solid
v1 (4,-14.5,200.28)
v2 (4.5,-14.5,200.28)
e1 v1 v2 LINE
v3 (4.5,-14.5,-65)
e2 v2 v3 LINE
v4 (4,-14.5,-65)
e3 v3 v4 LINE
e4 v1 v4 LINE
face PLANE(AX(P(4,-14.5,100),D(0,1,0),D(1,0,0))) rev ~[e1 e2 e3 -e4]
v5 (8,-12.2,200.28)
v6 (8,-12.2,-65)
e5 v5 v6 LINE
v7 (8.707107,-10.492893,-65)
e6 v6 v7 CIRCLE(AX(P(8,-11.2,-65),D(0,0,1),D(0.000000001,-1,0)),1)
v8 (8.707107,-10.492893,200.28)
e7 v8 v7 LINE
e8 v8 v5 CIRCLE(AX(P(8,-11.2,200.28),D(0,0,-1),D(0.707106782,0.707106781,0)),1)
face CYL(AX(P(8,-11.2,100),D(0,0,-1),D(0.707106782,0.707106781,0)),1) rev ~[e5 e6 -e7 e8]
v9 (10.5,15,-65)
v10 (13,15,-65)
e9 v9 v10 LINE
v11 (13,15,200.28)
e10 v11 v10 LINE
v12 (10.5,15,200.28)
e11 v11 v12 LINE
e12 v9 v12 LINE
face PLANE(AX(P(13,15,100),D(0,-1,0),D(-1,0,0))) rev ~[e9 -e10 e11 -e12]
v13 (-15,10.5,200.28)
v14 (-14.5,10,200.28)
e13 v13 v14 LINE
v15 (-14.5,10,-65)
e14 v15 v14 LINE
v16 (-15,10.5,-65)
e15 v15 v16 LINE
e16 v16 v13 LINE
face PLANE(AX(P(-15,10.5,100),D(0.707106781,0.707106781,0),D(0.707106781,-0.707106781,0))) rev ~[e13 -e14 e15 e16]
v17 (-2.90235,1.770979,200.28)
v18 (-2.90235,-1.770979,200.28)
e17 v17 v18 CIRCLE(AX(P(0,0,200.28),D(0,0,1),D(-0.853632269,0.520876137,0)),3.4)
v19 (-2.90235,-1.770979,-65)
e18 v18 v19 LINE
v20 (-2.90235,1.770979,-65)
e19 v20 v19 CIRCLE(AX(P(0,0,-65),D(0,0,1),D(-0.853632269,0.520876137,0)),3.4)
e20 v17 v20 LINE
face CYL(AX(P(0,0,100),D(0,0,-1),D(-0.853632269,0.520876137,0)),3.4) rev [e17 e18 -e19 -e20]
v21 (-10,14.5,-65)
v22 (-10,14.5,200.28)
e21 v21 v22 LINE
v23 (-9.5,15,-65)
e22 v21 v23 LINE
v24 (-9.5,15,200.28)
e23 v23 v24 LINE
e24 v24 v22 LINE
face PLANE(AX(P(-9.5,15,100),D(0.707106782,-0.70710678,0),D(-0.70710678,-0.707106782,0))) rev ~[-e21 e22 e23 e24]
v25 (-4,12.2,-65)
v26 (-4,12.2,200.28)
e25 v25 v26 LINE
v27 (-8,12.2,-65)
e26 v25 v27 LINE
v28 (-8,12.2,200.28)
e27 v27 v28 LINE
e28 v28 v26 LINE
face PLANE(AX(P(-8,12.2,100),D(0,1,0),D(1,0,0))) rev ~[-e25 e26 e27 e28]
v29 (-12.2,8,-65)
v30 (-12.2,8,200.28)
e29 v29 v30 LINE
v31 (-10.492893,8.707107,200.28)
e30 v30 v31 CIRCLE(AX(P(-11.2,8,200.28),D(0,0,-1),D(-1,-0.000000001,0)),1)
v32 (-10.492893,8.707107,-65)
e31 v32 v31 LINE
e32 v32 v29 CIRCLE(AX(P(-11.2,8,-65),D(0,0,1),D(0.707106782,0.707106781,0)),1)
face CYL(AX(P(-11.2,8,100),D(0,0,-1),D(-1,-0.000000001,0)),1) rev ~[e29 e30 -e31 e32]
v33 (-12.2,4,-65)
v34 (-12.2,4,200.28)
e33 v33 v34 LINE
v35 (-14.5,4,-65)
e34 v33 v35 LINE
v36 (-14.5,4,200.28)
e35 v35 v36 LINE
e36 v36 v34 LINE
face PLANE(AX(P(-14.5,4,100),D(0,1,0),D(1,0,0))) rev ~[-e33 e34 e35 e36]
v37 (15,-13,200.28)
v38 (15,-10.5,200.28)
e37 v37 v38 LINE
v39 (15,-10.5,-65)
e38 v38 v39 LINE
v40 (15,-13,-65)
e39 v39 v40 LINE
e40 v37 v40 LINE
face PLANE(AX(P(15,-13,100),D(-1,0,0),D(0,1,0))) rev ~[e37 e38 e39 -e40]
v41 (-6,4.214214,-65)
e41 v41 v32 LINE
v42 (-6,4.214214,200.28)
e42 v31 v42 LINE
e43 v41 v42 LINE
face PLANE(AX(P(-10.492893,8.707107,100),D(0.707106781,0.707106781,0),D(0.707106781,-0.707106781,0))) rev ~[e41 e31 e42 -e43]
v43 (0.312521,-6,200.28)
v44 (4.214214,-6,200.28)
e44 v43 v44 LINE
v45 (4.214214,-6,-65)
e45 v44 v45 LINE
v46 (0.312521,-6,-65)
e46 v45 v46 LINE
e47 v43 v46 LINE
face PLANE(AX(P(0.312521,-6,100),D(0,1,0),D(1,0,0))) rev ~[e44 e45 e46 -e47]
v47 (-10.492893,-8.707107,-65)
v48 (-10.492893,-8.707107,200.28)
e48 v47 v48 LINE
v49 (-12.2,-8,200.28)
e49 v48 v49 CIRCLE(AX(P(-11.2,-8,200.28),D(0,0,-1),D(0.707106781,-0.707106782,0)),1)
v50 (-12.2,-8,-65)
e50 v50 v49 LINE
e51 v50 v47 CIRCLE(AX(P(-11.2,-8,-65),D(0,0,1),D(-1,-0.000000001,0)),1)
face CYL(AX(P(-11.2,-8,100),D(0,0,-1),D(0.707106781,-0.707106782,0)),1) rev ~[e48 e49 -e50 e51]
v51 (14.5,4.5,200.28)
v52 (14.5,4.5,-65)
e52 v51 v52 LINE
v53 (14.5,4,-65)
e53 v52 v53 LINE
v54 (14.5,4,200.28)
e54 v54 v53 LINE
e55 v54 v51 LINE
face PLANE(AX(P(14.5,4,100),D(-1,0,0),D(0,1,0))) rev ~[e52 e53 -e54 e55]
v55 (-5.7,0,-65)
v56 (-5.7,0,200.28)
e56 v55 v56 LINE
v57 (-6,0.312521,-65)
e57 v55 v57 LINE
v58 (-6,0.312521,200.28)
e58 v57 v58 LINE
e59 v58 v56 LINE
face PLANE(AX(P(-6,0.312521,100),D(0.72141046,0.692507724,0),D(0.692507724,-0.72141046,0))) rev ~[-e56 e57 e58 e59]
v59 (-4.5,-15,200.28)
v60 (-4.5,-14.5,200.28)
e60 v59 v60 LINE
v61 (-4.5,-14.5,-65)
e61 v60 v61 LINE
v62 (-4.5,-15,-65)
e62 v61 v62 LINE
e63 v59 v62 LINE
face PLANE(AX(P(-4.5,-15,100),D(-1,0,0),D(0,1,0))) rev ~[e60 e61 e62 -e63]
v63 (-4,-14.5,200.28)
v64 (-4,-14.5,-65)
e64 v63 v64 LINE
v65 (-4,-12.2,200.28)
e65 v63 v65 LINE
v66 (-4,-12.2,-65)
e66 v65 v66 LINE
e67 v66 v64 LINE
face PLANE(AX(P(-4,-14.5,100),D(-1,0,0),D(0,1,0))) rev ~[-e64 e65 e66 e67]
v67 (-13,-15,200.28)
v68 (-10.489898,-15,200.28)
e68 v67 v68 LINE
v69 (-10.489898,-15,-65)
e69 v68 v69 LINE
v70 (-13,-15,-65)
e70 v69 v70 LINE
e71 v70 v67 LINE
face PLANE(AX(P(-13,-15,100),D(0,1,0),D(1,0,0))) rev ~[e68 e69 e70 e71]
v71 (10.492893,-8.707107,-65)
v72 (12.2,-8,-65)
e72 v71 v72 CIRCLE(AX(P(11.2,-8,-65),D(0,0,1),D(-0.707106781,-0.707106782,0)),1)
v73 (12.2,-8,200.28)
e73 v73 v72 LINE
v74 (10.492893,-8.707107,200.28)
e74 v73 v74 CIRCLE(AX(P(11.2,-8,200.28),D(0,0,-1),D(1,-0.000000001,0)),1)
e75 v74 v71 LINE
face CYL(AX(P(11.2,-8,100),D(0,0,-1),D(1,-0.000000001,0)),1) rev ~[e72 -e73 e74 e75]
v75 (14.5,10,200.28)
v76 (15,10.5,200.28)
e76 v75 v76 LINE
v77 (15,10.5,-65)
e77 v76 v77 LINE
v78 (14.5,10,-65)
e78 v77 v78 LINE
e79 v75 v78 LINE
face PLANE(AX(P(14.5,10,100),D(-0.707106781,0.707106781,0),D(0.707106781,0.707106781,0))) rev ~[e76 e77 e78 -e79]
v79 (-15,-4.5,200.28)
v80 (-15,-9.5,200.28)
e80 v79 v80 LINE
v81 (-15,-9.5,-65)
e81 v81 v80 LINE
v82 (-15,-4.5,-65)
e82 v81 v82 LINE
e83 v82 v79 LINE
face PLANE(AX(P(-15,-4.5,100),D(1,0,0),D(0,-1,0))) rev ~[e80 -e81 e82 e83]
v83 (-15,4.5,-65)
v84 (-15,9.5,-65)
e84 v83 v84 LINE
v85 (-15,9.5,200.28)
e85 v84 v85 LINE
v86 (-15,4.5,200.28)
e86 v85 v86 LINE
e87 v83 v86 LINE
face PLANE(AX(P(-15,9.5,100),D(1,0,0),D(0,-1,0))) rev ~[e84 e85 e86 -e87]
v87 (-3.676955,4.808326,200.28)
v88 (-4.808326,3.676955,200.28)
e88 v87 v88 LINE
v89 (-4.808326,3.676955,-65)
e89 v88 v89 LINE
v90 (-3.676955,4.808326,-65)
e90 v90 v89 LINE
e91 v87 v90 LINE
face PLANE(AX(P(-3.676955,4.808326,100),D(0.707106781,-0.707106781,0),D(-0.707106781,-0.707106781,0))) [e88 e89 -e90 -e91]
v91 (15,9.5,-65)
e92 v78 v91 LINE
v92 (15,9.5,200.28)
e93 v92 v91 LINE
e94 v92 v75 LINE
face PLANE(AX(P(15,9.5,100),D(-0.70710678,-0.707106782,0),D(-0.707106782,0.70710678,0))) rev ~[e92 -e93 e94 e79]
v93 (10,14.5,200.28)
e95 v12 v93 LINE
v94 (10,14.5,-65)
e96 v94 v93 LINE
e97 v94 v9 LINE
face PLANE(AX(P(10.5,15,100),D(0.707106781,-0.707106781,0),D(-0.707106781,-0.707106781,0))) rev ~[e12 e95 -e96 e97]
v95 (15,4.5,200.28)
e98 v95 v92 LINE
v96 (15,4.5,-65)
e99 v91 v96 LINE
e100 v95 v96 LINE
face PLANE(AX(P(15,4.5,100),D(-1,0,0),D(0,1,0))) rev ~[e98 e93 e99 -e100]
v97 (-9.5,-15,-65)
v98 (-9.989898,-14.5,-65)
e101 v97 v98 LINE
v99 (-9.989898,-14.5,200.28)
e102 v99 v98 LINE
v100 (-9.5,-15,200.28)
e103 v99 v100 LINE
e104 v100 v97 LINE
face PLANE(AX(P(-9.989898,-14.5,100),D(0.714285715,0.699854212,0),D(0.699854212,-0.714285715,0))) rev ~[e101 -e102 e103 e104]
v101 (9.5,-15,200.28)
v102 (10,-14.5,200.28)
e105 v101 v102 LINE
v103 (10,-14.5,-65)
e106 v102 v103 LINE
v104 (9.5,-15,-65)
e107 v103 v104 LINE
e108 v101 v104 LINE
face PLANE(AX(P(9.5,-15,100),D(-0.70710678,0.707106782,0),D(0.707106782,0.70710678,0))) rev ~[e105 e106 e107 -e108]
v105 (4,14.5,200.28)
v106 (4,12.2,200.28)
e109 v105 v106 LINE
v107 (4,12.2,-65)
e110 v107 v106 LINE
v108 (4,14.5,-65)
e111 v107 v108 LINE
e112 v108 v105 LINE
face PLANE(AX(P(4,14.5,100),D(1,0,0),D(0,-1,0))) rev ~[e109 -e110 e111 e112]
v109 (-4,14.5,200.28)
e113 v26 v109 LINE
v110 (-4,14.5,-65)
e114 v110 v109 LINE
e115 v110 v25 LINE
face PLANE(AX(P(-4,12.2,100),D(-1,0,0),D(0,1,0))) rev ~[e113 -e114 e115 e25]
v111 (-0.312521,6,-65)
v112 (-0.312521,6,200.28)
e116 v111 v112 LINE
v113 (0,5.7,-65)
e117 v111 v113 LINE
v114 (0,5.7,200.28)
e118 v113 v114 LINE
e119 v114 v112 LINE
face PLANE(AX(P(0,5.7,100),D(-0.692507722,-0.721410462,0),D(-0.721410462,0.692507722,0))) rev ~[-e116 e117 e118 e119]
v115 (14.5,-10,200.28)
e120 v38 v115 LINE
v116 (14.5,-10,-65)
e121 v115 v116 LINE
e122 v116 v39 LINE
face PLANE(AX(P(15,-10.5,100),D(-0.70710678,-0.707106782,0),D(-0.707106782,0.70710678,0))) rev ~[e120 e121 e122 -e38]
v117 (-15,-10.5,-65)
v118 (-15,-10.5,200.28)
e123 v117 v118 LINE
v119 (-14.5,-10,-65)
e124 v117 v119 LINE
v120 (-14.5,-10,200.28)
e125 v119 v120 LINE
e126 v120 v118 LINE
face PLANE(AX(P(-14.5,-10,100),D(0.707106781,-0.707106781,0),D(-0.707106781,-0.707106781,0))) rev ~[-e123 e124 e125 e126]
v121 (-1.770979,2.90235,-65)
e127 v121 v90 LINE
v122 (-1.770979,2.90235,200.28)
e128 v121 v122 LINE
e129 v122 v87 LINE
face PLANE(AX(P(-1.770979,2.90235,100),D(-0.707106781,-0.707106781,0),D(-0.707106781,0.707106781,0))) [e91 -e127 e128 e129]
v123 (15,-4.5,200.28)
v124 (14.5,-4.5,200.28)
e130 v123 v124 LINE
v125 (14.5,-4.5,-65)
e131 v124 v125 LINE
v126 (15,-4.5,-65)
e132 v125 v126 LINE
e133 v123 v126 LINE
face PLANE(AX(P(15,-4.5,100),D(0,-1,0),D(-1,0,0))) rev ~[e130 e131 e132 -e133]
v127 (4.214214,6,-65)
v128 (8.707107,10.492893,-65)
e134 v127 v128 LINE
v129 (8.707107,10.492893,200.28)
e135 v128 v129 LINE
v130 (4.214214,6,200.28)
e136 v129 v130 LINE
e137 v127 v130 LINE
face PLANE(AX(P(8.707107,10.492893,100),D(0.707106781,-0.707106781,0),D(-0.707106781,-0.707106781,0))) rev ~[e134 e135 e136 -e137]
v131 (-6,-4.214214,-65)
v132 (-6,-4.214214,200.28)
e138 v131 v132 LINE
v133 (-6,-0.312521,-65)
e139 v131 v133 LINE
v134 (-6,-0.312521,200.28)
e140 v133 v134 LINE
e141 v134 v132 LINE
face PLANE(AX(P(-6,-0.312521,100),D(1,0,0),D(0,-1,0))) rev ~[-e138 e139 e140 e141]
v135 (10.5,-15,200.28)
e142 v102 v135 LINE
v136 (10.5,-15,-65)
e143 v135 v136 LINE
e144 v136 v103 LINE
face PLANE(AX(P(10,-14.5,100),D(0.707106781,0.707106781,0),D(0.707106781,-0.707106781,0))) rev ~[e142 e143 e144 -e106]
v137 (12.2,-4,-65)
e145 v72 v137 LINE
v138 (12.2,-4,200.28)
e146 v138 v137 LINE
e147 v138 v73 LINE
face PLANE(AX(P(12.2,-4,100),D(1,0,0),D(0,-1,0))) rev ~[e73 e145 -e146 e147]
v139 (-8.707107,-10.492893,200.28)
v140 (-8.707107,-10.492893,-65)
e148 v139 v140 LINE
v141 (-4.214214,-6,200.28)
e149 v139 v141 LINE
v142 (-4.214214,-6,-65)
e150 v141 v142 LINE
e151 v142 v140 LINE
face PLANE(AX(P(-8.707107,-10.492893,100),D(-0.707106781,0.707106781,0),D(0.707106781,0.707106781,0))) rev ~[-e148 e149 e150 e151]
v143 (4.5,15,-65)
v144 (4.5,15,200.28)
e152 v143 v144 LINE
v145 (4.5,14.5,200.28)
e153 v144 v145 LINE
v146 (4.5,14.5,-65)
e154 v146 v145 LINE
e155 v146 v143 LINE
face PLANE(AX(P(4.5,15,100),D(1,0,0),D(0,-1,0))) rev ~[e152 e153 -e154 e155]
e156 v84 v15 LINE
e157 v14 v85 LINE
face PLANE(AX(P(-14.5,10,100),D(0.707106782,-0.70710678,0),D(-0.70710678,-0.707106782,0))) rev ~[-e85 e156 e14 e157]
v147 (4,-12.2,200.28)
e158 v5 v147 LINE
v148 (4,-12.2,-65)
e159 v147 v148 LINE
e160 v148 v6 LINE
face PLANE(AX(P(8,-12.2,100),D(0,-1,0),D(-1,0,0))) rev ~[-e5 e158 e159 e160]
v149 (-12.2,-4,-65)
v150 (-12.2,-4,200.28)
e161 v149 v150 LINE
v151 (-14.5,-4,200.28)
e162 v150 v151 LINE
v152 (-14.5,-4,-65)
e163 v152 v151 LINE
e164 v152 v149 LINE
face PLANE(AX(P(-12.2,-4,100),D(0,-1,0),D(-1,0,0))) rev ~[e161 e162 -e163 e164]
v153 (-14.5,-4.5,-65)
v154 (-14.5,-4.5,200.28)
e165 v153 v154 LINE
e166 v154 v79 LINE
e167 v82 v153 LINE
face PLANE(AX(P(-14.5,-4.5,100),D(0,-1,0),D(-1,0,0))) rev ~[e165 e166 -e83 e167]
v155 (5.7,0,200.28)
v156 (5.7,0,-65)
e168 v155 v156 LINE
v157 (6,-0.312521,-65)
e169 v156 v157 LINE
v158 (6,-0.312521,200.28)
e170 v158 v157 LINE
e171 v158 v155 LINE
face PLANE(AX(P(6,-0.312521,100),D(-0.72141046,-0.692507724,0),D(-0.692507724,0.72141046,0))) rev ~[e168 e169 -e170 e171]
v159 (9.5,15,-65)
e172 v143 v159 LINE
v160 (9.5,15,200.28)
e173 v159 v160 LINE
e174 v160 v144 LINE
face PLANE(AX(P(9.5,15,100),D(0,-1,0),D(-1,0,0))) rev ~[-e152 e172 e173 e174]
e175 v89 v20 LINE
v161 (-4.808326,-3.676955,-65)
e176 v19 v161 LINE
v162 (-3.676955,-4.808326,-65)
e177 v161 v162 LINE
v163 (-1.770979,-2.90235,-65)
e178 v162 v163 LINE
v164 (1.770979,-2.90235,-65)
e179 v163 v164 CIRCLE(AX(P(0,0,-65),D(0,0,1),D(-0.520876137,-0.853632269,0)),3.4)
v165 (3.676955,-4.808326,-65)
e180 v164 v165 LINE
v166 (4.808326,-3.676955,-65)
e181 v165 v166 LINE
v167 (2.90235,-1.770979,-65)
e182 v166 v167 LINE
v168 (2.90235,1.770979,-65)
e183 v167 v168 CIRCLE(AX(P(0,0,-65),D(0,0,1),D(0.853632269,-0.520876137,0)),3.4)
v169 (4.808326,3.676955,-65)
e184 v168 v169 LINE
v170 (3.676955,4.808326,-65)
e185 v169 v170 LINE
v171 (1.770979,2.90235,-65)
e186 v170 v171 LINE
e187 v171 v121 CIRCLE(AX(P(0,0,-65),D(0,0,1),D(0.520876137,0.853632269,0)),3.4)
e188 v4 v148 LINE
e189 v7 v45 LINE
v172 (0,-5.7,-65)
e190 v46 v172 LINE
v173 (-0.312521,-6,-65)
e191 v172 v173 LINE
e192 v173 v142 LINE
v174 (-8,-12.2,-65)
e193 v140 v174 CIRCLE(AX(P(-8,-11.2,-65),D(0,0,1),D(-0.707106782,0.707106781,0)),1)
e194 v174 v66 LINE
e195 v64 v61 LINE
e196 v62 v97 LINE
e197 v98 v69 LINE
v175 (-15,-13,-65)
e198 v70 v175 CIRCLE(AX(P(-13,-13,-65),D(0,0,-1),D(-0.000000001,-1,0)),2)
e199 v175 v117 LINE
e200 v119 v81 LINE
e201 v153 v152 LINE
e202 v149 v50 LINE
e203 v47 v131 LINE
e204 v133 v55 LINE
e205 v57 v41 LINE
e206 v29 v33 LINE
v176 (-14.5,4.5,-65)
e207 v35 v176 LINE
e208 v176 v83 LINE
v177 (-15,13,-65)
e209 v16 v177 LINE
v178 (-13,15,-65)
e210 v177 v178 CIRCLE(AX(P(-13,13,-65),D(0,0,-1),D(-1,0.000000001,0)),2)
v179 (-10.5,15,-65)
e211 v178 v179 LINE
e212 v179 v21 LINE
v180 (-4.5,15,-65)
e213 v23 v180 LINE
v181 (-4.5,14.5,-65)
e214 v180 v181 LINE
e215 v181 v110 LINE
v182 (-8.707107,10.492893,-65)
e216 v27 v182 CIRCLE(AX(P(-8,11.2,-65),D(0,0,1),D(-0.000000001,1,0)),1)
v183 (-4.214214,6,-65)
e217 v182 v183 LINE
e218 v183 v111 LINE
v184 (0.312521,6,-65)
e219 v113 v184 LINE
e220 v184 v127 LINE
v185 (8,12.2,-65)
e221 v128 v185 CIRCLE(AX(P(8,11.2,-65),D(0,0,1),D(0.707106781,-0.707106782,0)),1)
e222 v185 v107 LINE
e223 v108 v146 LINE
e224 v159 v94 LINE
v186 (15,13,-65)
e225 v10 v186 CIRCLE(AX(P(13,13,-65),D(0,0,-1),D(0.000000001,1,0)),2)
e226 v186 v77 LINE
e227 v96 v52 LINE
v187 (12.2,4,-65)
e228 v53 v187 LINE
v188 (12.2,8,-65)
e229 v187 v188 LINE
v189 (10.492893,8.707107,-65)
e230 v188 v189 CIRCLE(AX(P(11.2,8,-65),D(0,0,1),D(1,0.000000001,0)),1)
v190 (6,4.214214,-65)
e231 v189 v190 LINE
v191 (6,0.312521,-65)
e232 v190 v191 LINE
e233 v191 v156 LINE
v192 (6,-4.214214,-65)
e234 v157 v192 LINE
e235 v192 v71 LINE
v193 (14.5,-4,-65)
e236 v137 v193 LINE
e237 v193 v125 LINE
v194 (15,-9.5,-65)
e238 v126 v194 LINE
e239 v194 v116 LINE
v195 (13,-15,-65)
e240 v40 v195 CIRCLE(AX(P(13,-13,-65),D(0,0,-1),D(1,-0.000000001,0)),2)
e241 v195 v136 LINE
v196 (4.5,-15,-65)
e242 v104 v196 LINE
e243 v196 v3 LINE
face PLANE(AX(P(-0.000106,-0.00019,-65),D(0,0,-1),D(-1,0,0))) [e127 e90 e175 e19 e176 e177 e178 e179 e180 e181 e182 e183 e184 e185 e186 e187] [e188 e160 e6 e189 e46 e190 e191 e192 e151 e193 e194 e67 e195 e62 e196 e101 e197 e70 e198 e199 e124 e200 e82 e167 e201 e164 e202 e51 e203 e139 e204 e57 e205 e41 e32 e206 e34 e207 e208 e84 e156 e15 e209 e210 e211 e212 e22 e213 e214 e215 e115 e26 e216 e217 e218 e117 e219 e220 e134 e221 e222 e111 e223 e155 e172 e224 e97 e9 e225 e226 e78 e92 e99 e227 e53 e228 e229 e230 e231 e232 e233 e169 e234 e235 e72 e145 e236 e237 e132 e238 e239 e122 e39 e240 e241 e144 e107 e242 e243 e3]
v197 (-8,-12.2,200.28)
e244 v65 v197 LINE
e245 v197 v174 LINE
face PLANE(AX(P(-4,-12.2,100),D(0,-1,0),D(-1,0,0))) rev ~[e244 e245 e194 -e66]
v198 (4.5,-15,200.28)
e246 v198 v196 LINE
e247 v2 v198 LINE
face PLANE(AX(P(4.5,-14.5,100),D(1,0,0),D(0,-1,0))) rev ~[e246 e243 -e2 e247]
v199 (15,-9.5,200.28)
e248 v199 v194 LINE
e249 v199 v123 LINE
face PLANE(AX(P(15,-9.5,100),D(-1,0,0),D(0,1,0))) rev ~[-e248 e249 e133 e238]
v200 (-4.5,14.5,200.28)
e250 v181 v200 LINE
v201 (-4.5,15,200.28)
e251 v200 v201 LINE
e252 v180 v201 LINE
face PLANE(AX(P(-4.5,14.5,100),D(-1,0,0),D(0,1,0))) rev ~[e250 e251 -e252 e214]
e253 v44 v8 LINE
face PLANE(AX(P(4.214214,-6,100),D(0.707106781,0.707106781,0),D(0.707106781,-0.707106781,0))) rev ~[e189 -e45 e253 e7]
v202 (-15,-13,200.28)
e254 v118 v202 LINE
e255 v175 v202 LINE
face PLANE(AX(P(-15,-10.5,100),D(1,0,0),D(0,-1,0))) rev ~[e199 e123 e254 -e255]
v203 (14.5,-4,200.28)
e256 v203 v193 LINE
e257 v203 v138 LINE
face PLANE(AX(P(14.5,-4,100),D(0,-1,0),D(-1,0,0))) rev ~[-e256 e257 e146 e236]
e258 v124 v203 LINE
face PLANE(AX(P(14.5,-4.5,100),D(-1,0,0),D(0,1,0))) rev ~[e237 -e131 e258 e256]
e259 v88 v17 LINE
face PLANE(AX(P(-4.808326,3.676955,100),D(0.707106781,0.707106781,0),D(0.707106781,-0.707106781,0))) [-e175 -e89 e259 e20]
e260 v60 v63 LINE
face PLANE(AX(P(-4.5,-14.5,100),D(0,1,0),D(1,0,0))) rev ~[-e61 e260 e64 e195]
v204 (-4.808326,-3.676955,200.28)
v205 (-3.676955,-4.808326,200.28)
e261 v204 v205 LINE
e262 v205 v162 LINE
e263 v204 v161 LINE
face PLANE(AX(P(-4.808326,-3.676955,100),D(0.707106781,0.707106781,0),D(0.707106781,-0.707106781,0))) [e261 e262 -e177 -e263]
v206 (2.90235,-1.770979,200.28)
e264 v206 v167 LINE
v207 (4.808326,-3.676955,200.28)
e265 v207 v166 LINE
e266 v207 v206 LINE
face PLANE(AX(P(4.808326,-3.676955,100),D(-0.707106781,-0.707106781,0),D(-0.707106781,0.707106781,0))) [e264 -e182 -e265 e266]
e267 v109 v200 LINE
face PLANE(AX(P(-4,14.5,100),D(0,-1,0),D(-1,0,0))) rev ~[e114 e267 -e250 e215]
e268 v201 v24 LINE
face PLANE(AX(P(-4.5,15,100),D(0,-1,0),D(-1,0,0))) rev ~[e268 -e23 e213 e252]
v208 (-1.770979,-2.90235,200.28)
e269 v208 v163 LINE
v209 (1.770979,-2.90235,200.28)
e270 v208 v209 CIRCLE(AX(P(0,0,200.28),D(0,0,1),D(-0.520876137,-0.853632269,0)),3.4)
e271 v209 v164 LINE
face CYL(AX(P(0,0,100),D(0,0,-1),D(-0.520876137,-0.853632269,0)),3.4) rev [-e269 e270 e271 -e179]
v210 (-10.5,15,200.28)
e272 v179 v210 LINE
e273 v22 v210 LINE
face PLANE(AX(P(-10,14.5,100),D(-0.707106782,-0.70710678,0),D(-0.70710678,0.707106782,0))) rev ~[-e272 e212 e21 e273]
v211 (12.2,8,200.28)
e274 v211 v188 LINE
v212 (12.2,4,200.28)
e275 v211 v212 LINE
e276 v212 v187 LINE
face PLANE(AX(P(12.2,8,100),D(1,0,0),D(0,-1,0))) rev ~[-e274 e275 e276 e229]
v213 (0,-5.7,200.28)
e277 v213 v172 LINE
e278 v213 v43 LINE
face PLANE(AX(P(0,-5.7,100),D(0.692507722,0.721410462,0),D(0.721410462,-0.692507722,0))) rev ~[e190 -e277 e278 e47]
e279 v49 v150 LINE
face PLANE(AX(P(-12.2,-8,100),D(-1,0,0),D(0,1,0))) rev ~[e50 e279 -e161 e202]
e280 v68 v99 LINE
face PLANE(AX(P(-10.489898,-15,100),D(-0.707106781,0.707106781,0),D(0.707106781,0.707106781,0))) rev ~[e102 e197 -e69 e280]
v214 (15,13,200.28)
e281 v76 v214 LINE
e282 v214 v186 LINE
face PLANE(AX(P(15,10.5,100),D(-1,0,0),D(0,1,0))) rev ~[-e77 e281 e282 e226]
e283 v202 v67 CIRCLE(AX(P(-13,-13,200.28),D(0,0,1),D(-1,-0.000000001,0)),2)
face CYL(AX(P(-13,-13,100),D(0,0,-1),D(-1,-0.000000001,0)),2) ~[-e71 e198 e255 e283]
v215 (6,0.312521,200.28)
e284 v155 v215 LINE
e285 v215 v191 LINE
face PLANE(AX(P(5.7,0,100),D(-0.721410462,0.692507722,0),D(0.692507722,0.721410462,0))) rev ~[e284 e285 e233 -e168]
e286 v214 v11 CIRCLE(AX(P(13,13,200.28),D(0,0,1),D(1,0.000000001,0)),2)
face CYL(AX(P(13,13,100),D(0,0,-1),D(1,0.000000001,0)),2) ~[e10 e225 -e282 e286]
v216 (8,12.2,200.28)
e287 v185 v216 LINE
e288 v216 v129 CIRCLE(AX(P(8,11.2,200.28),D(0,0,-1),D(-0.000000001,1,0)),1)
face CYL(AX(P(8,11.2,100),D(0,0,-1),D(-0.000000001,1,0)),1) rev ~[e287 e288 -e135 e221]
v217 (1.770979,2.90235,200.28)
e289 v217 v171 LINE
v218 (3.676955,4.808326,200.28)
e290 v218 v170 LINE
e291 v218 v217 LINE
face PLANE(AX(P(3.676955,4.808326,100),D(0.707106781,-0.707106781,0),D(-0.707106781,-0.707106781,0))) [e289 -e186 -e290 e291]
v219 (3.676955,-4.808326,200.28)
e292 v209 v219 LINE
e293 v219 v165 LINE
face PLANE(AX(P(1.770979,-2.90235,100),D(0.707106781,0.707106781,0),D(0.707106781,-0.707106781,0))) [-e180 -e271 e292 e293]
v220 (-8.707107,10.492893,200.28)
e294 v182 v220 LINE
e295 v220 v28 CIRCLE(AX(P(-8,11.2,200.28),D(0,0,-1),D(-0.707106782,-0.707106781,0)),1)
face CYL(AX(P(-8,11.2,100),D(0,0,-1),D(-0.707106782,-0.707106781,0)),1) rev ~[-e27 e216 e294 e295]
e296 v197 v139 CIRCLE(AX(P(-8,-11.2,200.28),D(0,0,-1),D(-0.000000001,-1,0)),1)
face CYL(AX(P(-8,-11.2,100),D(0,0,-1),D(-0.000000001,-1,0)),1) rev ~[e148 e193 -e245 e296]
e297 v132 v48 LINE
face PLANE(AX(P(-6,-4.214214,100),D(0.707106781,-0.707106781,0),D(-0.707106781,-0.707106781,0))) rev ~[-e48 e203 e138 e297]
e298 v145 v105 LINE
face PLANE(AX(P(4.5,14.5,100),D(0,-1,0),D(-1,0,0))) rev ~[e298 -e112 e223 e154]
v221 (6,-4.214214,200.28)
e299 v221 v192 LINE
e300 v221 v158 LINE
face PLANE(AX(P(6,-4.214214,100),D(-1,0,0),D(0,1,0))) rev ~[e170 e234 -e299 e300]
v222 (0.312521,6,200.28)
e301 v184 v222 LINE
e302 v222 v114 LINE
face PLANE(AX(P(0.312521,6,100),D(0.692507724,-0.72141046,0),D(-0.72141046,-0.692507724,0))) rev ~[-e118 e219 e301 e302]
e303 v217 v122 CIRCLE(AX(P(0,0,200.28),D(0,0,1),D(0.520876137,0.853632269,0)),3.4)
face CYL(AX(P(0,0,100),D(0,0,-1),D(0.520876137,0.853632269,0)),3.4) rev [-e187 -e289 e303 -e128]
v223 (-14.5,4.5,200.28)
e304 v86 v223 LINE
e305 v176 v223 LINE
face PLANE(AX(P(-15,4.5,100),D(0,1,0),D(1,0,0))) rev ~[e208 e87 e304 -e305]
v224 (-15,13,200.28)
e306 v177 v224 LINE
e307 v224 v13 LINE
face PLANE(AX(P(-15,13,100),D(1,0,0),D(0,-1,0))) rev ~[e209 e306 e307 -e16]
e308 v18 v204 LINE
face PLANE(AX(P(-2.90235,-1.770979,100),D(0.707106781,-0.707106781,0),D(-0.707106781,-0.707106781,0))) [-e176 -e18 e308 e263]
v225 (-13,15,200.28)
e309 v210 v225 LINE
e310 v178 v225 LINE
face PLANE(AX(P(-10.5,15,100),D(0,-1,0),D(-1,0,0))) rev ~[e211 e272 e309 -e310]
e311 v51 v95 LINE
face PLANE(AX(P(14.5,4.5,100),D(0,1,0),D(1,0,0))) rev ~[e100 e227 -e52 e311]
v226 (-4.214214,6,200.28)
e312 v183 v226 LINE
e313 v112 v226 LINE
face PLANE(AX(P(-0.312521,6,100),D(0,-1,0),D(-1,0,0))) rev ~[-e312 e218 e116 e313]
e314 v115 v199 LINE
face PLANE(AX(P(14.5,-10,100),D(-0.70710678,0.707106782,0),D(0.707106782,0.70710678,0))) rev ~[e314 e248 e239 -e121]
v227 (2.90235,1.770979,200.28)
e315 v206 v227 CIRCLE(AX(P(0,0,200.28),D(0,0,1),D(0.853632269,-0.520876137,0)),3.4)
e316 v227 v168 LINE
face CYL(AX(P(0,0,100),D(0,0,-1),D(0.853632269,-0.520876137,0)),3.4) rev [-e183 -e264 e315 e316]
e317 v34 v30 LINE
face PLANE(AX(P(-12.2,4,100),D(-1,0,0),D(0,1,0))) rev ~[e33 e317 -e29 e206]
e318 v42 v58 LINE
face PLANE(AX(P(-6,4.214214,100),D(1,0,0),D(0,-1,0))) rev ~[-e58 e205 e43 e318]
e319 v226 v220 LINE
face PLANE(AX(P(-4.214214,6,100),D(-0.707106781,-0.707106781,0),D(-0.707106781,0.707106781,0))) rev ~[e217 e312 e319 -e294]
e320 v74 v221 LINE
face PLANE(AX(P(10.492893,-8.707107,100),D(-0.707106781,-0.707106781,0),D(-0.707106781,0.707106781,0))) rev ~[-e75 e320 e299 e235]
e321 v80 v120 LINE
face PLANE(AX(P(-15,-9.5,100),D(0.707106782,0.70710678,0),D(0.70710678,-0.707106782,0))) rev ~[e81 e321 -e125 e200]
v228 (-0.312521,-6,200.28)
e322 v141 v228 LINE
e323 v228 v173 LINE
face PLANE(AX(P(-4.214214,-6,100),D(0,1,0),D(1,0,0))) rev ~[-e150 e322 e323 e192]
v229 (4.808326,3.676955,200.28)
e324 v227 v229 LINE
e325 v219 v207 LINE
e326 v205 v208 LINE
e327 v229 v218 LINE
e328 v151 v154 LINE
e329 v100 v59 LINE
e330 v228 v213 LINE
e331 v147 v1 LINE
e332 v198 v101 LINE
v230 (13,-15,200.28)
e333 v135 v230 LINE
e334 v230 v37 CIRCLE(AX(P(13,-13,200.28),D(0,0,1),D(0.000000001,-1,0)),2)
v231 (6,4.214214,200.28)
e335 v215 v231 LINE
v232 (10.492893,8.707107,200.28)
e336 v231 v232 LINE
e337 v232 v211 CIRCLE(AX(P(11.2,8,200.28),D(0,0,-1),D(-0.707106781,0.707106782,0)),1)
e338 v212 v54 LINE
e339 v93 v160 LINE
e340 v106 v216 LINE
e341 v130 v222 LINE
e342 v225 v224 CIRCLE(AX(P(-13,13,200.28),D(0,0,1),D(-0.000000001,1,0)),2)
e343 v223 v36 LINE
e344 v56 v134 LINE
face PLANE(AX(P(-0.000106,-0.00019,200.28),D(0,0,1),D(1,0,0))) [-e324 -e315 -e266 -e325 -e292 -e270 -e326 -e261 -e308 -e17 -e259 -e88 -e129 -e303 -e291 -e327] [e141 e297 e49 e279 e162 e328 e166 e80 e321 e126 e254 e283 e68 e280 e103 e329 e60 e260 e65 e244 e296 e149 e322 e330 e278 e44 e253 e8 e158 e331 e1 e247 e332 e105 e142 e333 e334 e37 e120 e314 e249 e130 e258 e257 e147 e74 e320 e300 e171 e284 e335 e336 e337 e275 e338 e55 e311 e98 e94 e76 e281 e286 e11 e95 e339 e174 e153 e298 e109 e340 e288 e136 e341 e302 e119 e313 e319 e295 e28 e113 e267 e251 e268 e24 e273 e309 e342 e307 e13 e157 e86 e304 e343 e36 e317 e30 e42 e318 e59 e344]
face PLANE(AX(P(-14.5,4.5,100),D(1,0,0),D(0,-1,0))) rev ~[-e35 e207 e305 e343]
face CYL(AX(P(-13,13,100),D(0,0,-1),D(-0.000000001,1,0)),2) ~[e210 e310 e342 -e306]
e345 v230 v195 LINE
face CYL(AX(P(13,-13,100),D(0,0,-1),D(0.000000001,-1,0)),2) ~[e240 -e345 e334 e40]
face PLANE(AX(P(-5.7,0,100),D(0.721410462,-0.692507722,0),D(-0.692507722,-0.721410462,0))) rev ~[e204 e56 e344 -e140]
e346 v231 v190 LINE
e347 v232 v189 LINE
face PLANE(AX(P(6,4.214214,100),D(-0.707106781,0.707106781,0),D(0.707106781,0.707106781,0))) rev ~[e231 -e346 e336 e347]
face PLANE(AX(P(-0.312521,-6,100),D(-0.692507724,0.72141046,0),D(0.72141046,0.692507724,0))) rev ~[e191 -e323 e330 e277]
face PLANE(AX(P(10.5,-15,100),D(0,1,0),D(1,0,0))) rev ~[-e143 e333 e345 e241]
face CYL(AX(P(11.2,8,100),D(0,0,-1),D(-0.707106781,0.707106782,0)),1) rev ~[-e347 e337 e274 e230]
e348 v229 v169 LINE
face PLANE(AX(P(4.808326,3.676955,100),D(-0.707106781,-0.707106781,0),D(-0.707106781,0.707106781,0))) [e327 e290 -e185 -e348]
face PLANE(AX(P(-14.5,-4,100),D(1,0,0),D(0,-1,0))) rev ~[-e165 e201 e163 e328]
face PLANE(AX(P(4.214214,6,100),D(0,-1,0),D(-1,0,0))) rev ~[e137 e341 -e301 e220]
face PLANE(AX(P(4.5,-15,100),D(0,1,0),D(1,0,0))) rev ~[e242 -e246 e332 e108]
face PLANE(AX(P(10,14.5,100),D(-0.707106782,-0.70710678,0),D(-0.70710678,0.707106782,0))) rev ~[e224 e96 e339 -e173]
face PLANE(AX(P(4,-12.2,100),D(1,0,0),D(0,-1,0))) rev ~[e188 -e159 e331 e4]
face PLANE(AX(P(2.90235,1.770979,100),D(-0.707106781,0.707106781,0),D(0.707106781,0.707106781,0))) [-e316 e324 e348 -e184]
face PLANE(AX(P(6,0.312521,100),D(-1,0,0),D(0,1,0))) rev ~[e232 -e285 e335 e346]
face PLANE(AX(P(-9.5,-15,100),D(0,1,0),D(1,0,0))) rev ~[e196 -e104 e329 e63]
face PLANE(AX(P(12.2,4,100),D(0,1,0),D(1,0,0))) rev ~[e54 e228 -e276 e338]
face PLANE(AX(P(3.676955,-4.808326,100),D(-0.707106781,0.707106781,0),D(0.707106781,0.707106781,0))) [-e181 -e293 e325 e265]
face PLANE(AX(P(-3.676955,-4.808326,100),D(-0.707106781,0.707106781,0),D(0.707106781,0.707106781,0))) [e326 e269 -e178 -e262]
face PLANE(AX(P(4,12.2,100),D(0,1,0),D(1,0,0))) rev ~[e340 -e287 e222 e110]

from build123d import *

# Parameters (mm, degrees)
BOSS_EXTRUDE1_DEPTH = 165
BOSS_EXTRUDE2_DEPTH = 100.28


with BuildPart() as part:
    # Sketch1 → Boss-Extrude1 (new body)
    with BuildSketch(Plane(origin=(0, 0, -65), x_dir=(-1, 0, 0), z_dir=(0, 0, -1))):
        with BuildLine():
            Line((-14.999999999, 12.999999999), (-14.999999999, 10.499999999))
            Line((-14.999999999, 10.499999999), (-14.499999999, 9.999999999))
            Line((-14.499999999, 9.999999999), (-14.999999999, 9.5))
            Line((-14.999999999, 9.5), (-14.999999999, 4.5))
            Line((-14.999999999, 4.5), (-14.5, 4.5))
            Line((-14.5, 4.5), (-14.5, 4))
            Line((-14.5, 4), (-12.200000005, 4))
            Line((-12.200000005, 4), (-12.200000005, 7.999999995))
            ThreePointArc((-12.200000005, 7.999999995), (-11.582683434, 8.923879532), (-10.492893215, 8.70710678))
            Line((-10.492893215, 8.70710678), (-6, 4.214213564))
            Line((-6, 4.214213564), (-6, 0.312520903))
            Line((-6, 0.312520903), (-5.7, 0))
            Line((-5.7, 0), (-6, -0.312520901))
            Line((-6, -0.312520901), (-6, -4.214213564))
            Line((-6, -4.214213564), (-10.492893215, -8.70710678))
            ThreePointArc((-10.492893215, -8.70710678), (-11.582683434, -8.923879532), (-12.200000005, -7.999999995))
            Line((-12.200000005, -7.999999995), (-12.200000005, -4))
            Line((-12.200000005, -4), (-14.5, -4))
            Line((-14.5, -4), (-14.5, -4.5))
            Line((-14.5, -4.5), (-14.999999999, -4.5))
            Line((-14.999999999, -4.5), (-14.999999999, -9.500000003))
            Line((-14.999999999, -9.500000003), (-14.499999999, -10.000000002))
            Line((-14.499999999, -10.000000002), (-14.999999999, -10.500000001))
            Line((-14.999999999, -10.500000001), (-14.999999999, -13))
            ThreePointArc((-14.999999999, -13), (-14.414213561, -14.414213562), (-12.999999999, -15))
            Line((-12.999999999, -15), (-10.5, -15))
            Line((-10.5, -15), (-10.000000001, -14.500000001))
            Line((-10.000000001, -14.500000001), (-9.500000001, -15))
            Line((-9.500000001, -15), (-4.5, -15))
            Line((-4.5, -15), (-4.5, -14.5))
            Line((-4.5, -14.5), (-4, -14.5))
            Line((-4, -14.5), (-4, -12.200000005))
            Line((-4, -12.200000005), (-7.999999995, -12.200000005))
            ThreePointArc((-7.999999995, -12.200000005), (-8.923879532, -11.582683434), (-8.70710678, -10.492893215))
            Line((-8.70710678, -10.492893215), (-4.214213564, -6))
            Line((-4.214213564, -6), (-0.312520903, -6))
            Line((-0.312520903, -6), (0, -5.7))
            Line((0, -5.7), (0.312520901, -6))
            Line((0.312520901, -6), (4.214213564, -6))
            Line((4.214213564, -6), (8.70710678, -10.492893215))
            ThreePointArc((8.70710678, -10.492893215), (8.923879532, -11.582683434), (7.999999995, -12.200000005))
            Line((7.999999995, -12.200000005), (4, -12.200000005))
            Line((4, -12.200000005), (4, -14.5))
            Line((4, -14.5), (4.5, -14.5))
            Line((4.5, -14.5), (4.5, -15))
            Line((4.5, -15), (9.500000001, -15))
            Line((9.500000001, -15), (9.989897949, -14.5))
            Line((9.989897949, -14.5), (10.489897949, -15))
            Line((10.489897949, -15), (13, -15))
            ThreePointArc((13, -15), (14.414213562, -14.414213562), (15, -13))
            Line((15, -13), (15, -10.5))
            Line((15, -10.5), (14.500000001, -10.000000001))
            Line((14.500000001, -10.000000001), (15, -9.500000001))
            Line((15, -9.500000001), (15, -4.5))
            Line((15, -4.5), (14.5, -4.5))
            Line((14.5, -4.5), (14.5, -4))
            Line((14.5, -4), (12.200000005, -4))
            Line((12.200000005, -4), (12.200000005, -7.999999995))
            ThreePointArc((12.200000005, -7.999999995), (11.582683434, -8.923879532), (10.492893215, -8.70710678))
            Line((10.492893215, -8.70710678), (6, -4.214213564))
            Line((6, -4.214213564), (6, -0.312520903))
            Line((6, -0.312520903), (5.7, 0))
            Line((5.7, 0), (6, 0.312520901))
            Line((6, 0.312520901), (6, 4.214213564))
            Line((6, 4.214213564), (10.492893215, 8.707106779))
            ThreePointArc((10.492893215, 8.707106779), (11.582683434, 8.923879532), (12.200000005, 7.999999994))
            Line((12.200000005, 7.999999994), (12.200000005, 4))
            Line((12.200000005, 4), (14.5, 4))
            Line((14.5, 4), (14.5, 4.5))
            Line((14.5, 4.5), (15, 4.5))
            Line((15, 4.5), (15, 9.500000001))
            Line((15, 9.500000001), (14.500000001, 10.000000001))
            Line((14.500000001, 10.000000001), (15, 10.5))
            Line((15, 10.5), (15, 12.999999999))
            ThreePointArc((15, 12.999999999), (14.414213562, 14.414213561), (13, 14.999999999))
            Line((13, 14.999999999), (10.500000001, 14.999999999))
            Line((10.500000001, 14.999999999), (10.000000002, 14.499999999))
            Line((10.000000002, 14.499999999), (9.500000003, 14.999999999))
            Line((9.500000003, 14.999999999), (4.5, 14.999999999))
            Line((4.5, 14.999999999), (4.5, 14.5))
            Line((4.5, 14.5), (4, 14.5))
            Line((4, 14.5), (4, 12.200000005))
            Line((4, 12.200000005), (7.999999995, 12.200000005))
            ThreePointArc((7.999999995, 12.200000005), (8.923879532, 11.582683434), (8.70710678, 10.492893215))
            Line((8.70710678, 10.492893215), (4.214213564, 6))
            Line((4.214213564, 6), (0.312520903, 6))
            Line((0.312520903, 6), (0, 5.7))
            Line((0, 5.7), (-0.312520901, 6))
            Line((-0.312520901, 6), (-4.214213564, 6))
            Line((-4.214213564, 6), (-8.707106779, 10.492893215))
            ThreePointArc((-8.707106779, 10.492893215), (-8.923879532, 11.582683434), (-7.999999994, 12.200000005))
            Line((-7.999999994, 12.200000005), (-4, 12.200000005))
            Line((-4, 12.200000005), (-4, 14.5))
            Line((-4, 14.5), (-4.5, 14.5))
            Line((-4.5, 14.5), (-4.5, 14.999999999))
            Line((-4.5, 14.999999999), (-9.5, 14.999999999))
            Line((-9.5, 14.999999999), (-9.999999999, 14.499999999))
            Line((-9.999999999, 14.499999999), (-10.499999999, 14.999999999))
            Line((-10.499999999, 14.999999999), (-12.999999999, 14.999999999))
            ThreePointArc((-12.999999999, 14.999999999), (-14.414213561, 14.414213561), (-14.999999999, 12.999999999))
        make_face()
        with BuildLine():
            Line((4.808326112, 3.676955262), (2.902349714, 1.770978864))
            ThreePointArc((2.902349714, 1.770978864), (3.4, 0), (2.902349714, -1.770978864))
            Line((2.902349714, -1.770978864), (4.808326112, -3.676955262))
            Line((4.808326112, -3.676955262), (3.676955262, -4.808326112))
            Line((3.676955262, -4.808326112), (1.770978864, -2.902349714))
            ThreePointArc((1.770978864, -2.902349714), (0, -3.4), (-1.770978864, -2.902349714))
            Line((-1.770978864, -2.902349714), (-3.676955262, -4.808326112))
            Line((-3.676955262, -4.808326112), (-4.808326112, -3.676955262))
            Line((-4.808326112, -3.676955262), (-2.902349714, -1.770978864))
            ThreePointArc((-2.902349714, -1.770978864), (-3.4, 0), (-2.902349714, 1.770978864))
            Line((-2.902349714, 1.770978864), (-4.808326112, 3.676955262))
            Line((-4.808326112, 3.676955262), (-3.676955262, 4.808326112))
            Line((-3.676955262, 4.808326112), (-1.770978864, 2.902349714))
            ThreePointArc((-1.770978864, 2.902349714), (0, 3.4), (1.770978864, 2.902349714))
            Line((1.770978864, 2.902349714), (3.676955262, 4.808326112))
            Line((3.676955262, 4.808326112), (4.808326112, 3.676955262))
        make_face(mode=Mode.SUBTRACT)
    extrude(amount=-BOSS_EXTRUDE1_DEPTH)

    # Sketch2 → Boss-Extrude2 (add)
    with BuildSketch(Plane.XY.offset(100)):
        with BuildLine():
            Line((12.999999999, 14.999999999), (10.499999999, 14.999999999))
            Line((10.499999999, 14.999999999), (9.999999999, 14.499999999))
            Line((9.999999999, 14.499999999), (9.5, 14.999999999))
            Line((9.5, 14.999999999), (4.5, 14.999999999))
            Line((4.5, 14.999999999), (4.5, 14.5))
            Line((4.5, 14.5), (4, 14.5))
            Line((4, 14.5), (4, 12.200000005))
            Line((4, 12.200000005), (7.999999994, 12.200000005))
            ThreePointArc((7.999999994, 12.200000005), (8.923879532, 11.582683434), (8.707106779, 10.492893215))
            Line((8.707106779, 10.492893215), (4.214213564, 6))
            Line((4.214213564, 6), (0.312520901, 6))
            Line((0.312520901, 6), (0, 5.7))
            Line((0, 5.7), (-0.312520903, 6))
            Line((-0.312520903, 6), (-4.214213564, 6))
            Line((-4.214213564, 6), (-8.70710678, 10.492893215))
            ThreePointArc((-8.70710678, 10.492893215), (-8.923879532, 11.582683434), (-7.999999995, 12.200000005))
            Line((-7.999999995, 12.200000005), (-4, 12.200000005))
            Line((-4, 12.200000005), (-4, 14.5))
            Line((-4, 14.5), (-4.5, 14.5))
            Line((-4.5, 14.5), (-4.5, 14.999999999))
            Line((-4.5, 14.999999999), (-9.500000003, 14.999999999))
            Line((-9.500000003, 14.999999999), (-10.000000002, 14.499999999))
            Line((-10.000000002, 14.499999999), (-10.500000001, 14.999999999))
            Line((-10.500000001, 14.999999999), (-13, 14.999999999))
            ThreePointArc((-13, 14.999999999), (-14.414213562, 14.414213561), (-15, 12.999999999))
            Line((-15, 12.999999999), (-15, 10.5))
            Line((-15, 10.5), (-14.500000001, 10.000000001))
            Line((-14.500000001, 10.000000001), (-15, 9.500000001))
            Line((-15, 9.500000001), (-15, 4.5))
            Line((-15, 4.5), (-14.5, 4.5))
            Line((-14.5, 4.5), (-14.5, 4))
            Line((-14.5, 4), (-12.200000005, 4))
            Line((-12.200000005, 4), (-12.200000005, 7.999999994))
            ThreePointArc((-12.200000005, 7.999999994), (-11.582683434, 8.923879532), (-10.492893215, 8.707106779))
            Line((-10.492893215, 8.707106779), (-6, 4.214213564))
            Line((-6, 4.214213564), (-6, 0.312520901))
            Line((-6, 0.312520901), (-5.7, 0))
            Line((-5.7, 0), (-6, -0.312520903))
            Line((-6, -0.312520903), (-6, -4.214213564))
            Line((-6, -4.214213564), (-10.492893215, -8.70710678))
            ThreePointArc((-10.492893215, -8.70710678), (-11.582683434, -8.923879532), (-12.200000005, -7.999999995))
            Line((-12.200000005, -7.999999995), (-12.200000005, -4))
            Line((-12.200000005, -4), (-14.5, -4))
            Line((-14.5, -4), (-14.5, -4.5))
            Line((-14.5, -4.5), (-15, -4.5))
            Line((-15, -4.5), (-15, -9.500000001))
            Line((-15, -9.500000001), (-14.500000001, -10.000000001))
            Line((-14.500000001, -10.000000001), (-15, -10.5))
            Line((-15, -10.5), (-15, -13))
            ThreePointArc((-15, -13), (-14.414213562, -14.414213562), (-13, -15))
            Line((-13, -15), (-10.489897949, -15))
            Line((-10.489897949, -15), (-9.989897949, -14.5))
            Line((-9.989897949, -14.5), (-9.500000001, -15))
            Line((-9.500000001, -15), (-4.5, -15))
            Line((-4.5, -15), (-4.5, -14.5))
            Line((-4.5, -14.5), (-4, -14.5))
            Line((-4, -14.5), (-4, -12.200000005))
            Line((-4, -12.200000005), (-7.999999995, -12.200000005))
            ThreePointArc((-7.999999995, -12.200000005), (-8.923879532, -11.582683434), (-8.70710678, -10.492893215))
            Line((-8.70710678, -10.492893215), (-4.214213564, -6))
            Line((-4.214213564, -6), (-0.312520901, -6))
            Line((-0.312520901, -6), (0, -5.7))
            Line((0, -5.7), (0.312520903, -6))
            Line((0.312520903, -6), (4.214213564, -6))
            Line((4.214213564, -6), (8.70710678, -10.492893215))
            ThreePointArc((8.70710678, -10.492893215), (8.923879532, -11.582683434), (7.999999995, -12.200000005))
            Line((7.999999995, -12.200000005), (4, -12.200000005))
            Line((4, -12.200000005), (4, -14.5))
            Line((4, -14.5), (4.5, -14.5))
            Line((4.5, -14.5), (4.5, -15))
            Line((4.5, -15), (9.500000001, -15))
            Line((9.500000001, -15), (10.000000001, -14.500000001))
            Line((10.000000001, -14.500000001), (10.5, -15))
            Line((10.5, -15), (12.999999999, -15))
            ThreePointArc((12.999999999, -15), (14.414213561, -14.414213562), (14.999999999, -13))
            Line((14.999999999, -13), (14.999999999, -10.500000001))
            Line((14.999999999, -10.500000001), (14.499999999, -10.000000002))
            Line((14.499999999, -10.000000002), (14.999999999, -9.500000003))
            Line((14.999999999, -9.500000003), (14.999999999, -4.5))
            Line((14.999999999, -4.5), (14.5, -4.5))
            Line((14.5, -4.5), (14.5, -4))
            Line((14.5, -4), (12.200000005, -4))
            Line((12.200000005, -4), (12.200000005, -7.999999995))
            ThreePointArc((12.200000005, -7.999999995), (11.582683434, -8.923879532), (10.492893215, -8.70710678))
            Line((10.492893215, -8.70710678), (6, -4.214213564))
            Line((6, -4.214213564), (6, -0.312520901))
            Line((6, -0.312520901), (5.7, 0))
            Line((5.7, 0), (6, 0.312520903))
            Line((6, 0.312520903), (6, 4.214213564))
            Line((6, 4.214213564), (10.492893215, 8.70710678))
            ThreePointArc((10.492893215, 8.70710678), (11.582683434, 8.923879532), (12.200000005, 7.999999995))
            Line((12.200000005, 7.999999995), (12.200000005, 4))
            Line((12.200000005, 4), (14.5, 4))
            Line((14.5, 4), (14.5, 4.5))
            Line((14.5, 4.5), (14.999999999, 4.5))
            Line((14.999999999, 4.5), (14.999999999, 9.5))
            Line((14.999999999, 9.5), (14.499999999, 9.999999999))
            Line((14.499999999, 9.999999999), (14.999999999, 10.499999999))
            Line((14.999999999, 10.499999999), (14.999999999, 12.999999999))
            ThreePointArc((14.999999999, 12.999999999), (14.414213561, 14.414213561), (12.999999999, 14.999999999))
        make_face()
        with BuildLine():
            Line((-1.770978864, 2.902349714), (-3.676955262, 4.808326112))
            Line((-3.676955262, 4.808326112), (-4.808326112, 3.676955262))
            Line((-4.808326112, 3.676955262), (-2.902349714, 1.770978864))
            ThreePointArc((-2.902349714, 1.770978864), (-3.4, 0), (-2.902349714, -1.770978864))
            Line((-2.902349714, -1.770978864), (-4.808326112, -3.676955262))
            Line((-4.808326112, -3.676955262), (-3.676955262, -4.808326112))
            Line((-3.676955262, -4.808326112), (-1.770978864, -2.902349714))
            ThreePointArc((-1.770978864, -2.902349714), (0, -3.4), (1.770978864, -2.902349714))
            Line((1.770978864, -2.902349714), (3.676955262, -4.808326112))
            Line((3.676955262, -4.808326112), (4.808326112, -3.676955262))
            Line((4.808326112, -3.676955262), (2.902349714, -1.770978864))
            ThreePointArc((2.902349714, -1.770978864), (3.4, 0), (2.902349714, 1.770978864))
            Line((2.902349714, 1.770978864), (4.808326112, 3.676955262))
            Line((4.808326112, 3.676955262), (3.676955262, 4.808326112))
            Line((3.676955262, 4.808326112), (1.770978864, 2.902349714))
            ThreePointArc((1.770978864, 2.902349714), (0, 3.4), (-1.770978864, 2.902349714))
        make_face(mode=Mode.SUBTRACT)
    extrude(amount=BOSS_EXTRUDE2_DEPTH)


solid = part.part
